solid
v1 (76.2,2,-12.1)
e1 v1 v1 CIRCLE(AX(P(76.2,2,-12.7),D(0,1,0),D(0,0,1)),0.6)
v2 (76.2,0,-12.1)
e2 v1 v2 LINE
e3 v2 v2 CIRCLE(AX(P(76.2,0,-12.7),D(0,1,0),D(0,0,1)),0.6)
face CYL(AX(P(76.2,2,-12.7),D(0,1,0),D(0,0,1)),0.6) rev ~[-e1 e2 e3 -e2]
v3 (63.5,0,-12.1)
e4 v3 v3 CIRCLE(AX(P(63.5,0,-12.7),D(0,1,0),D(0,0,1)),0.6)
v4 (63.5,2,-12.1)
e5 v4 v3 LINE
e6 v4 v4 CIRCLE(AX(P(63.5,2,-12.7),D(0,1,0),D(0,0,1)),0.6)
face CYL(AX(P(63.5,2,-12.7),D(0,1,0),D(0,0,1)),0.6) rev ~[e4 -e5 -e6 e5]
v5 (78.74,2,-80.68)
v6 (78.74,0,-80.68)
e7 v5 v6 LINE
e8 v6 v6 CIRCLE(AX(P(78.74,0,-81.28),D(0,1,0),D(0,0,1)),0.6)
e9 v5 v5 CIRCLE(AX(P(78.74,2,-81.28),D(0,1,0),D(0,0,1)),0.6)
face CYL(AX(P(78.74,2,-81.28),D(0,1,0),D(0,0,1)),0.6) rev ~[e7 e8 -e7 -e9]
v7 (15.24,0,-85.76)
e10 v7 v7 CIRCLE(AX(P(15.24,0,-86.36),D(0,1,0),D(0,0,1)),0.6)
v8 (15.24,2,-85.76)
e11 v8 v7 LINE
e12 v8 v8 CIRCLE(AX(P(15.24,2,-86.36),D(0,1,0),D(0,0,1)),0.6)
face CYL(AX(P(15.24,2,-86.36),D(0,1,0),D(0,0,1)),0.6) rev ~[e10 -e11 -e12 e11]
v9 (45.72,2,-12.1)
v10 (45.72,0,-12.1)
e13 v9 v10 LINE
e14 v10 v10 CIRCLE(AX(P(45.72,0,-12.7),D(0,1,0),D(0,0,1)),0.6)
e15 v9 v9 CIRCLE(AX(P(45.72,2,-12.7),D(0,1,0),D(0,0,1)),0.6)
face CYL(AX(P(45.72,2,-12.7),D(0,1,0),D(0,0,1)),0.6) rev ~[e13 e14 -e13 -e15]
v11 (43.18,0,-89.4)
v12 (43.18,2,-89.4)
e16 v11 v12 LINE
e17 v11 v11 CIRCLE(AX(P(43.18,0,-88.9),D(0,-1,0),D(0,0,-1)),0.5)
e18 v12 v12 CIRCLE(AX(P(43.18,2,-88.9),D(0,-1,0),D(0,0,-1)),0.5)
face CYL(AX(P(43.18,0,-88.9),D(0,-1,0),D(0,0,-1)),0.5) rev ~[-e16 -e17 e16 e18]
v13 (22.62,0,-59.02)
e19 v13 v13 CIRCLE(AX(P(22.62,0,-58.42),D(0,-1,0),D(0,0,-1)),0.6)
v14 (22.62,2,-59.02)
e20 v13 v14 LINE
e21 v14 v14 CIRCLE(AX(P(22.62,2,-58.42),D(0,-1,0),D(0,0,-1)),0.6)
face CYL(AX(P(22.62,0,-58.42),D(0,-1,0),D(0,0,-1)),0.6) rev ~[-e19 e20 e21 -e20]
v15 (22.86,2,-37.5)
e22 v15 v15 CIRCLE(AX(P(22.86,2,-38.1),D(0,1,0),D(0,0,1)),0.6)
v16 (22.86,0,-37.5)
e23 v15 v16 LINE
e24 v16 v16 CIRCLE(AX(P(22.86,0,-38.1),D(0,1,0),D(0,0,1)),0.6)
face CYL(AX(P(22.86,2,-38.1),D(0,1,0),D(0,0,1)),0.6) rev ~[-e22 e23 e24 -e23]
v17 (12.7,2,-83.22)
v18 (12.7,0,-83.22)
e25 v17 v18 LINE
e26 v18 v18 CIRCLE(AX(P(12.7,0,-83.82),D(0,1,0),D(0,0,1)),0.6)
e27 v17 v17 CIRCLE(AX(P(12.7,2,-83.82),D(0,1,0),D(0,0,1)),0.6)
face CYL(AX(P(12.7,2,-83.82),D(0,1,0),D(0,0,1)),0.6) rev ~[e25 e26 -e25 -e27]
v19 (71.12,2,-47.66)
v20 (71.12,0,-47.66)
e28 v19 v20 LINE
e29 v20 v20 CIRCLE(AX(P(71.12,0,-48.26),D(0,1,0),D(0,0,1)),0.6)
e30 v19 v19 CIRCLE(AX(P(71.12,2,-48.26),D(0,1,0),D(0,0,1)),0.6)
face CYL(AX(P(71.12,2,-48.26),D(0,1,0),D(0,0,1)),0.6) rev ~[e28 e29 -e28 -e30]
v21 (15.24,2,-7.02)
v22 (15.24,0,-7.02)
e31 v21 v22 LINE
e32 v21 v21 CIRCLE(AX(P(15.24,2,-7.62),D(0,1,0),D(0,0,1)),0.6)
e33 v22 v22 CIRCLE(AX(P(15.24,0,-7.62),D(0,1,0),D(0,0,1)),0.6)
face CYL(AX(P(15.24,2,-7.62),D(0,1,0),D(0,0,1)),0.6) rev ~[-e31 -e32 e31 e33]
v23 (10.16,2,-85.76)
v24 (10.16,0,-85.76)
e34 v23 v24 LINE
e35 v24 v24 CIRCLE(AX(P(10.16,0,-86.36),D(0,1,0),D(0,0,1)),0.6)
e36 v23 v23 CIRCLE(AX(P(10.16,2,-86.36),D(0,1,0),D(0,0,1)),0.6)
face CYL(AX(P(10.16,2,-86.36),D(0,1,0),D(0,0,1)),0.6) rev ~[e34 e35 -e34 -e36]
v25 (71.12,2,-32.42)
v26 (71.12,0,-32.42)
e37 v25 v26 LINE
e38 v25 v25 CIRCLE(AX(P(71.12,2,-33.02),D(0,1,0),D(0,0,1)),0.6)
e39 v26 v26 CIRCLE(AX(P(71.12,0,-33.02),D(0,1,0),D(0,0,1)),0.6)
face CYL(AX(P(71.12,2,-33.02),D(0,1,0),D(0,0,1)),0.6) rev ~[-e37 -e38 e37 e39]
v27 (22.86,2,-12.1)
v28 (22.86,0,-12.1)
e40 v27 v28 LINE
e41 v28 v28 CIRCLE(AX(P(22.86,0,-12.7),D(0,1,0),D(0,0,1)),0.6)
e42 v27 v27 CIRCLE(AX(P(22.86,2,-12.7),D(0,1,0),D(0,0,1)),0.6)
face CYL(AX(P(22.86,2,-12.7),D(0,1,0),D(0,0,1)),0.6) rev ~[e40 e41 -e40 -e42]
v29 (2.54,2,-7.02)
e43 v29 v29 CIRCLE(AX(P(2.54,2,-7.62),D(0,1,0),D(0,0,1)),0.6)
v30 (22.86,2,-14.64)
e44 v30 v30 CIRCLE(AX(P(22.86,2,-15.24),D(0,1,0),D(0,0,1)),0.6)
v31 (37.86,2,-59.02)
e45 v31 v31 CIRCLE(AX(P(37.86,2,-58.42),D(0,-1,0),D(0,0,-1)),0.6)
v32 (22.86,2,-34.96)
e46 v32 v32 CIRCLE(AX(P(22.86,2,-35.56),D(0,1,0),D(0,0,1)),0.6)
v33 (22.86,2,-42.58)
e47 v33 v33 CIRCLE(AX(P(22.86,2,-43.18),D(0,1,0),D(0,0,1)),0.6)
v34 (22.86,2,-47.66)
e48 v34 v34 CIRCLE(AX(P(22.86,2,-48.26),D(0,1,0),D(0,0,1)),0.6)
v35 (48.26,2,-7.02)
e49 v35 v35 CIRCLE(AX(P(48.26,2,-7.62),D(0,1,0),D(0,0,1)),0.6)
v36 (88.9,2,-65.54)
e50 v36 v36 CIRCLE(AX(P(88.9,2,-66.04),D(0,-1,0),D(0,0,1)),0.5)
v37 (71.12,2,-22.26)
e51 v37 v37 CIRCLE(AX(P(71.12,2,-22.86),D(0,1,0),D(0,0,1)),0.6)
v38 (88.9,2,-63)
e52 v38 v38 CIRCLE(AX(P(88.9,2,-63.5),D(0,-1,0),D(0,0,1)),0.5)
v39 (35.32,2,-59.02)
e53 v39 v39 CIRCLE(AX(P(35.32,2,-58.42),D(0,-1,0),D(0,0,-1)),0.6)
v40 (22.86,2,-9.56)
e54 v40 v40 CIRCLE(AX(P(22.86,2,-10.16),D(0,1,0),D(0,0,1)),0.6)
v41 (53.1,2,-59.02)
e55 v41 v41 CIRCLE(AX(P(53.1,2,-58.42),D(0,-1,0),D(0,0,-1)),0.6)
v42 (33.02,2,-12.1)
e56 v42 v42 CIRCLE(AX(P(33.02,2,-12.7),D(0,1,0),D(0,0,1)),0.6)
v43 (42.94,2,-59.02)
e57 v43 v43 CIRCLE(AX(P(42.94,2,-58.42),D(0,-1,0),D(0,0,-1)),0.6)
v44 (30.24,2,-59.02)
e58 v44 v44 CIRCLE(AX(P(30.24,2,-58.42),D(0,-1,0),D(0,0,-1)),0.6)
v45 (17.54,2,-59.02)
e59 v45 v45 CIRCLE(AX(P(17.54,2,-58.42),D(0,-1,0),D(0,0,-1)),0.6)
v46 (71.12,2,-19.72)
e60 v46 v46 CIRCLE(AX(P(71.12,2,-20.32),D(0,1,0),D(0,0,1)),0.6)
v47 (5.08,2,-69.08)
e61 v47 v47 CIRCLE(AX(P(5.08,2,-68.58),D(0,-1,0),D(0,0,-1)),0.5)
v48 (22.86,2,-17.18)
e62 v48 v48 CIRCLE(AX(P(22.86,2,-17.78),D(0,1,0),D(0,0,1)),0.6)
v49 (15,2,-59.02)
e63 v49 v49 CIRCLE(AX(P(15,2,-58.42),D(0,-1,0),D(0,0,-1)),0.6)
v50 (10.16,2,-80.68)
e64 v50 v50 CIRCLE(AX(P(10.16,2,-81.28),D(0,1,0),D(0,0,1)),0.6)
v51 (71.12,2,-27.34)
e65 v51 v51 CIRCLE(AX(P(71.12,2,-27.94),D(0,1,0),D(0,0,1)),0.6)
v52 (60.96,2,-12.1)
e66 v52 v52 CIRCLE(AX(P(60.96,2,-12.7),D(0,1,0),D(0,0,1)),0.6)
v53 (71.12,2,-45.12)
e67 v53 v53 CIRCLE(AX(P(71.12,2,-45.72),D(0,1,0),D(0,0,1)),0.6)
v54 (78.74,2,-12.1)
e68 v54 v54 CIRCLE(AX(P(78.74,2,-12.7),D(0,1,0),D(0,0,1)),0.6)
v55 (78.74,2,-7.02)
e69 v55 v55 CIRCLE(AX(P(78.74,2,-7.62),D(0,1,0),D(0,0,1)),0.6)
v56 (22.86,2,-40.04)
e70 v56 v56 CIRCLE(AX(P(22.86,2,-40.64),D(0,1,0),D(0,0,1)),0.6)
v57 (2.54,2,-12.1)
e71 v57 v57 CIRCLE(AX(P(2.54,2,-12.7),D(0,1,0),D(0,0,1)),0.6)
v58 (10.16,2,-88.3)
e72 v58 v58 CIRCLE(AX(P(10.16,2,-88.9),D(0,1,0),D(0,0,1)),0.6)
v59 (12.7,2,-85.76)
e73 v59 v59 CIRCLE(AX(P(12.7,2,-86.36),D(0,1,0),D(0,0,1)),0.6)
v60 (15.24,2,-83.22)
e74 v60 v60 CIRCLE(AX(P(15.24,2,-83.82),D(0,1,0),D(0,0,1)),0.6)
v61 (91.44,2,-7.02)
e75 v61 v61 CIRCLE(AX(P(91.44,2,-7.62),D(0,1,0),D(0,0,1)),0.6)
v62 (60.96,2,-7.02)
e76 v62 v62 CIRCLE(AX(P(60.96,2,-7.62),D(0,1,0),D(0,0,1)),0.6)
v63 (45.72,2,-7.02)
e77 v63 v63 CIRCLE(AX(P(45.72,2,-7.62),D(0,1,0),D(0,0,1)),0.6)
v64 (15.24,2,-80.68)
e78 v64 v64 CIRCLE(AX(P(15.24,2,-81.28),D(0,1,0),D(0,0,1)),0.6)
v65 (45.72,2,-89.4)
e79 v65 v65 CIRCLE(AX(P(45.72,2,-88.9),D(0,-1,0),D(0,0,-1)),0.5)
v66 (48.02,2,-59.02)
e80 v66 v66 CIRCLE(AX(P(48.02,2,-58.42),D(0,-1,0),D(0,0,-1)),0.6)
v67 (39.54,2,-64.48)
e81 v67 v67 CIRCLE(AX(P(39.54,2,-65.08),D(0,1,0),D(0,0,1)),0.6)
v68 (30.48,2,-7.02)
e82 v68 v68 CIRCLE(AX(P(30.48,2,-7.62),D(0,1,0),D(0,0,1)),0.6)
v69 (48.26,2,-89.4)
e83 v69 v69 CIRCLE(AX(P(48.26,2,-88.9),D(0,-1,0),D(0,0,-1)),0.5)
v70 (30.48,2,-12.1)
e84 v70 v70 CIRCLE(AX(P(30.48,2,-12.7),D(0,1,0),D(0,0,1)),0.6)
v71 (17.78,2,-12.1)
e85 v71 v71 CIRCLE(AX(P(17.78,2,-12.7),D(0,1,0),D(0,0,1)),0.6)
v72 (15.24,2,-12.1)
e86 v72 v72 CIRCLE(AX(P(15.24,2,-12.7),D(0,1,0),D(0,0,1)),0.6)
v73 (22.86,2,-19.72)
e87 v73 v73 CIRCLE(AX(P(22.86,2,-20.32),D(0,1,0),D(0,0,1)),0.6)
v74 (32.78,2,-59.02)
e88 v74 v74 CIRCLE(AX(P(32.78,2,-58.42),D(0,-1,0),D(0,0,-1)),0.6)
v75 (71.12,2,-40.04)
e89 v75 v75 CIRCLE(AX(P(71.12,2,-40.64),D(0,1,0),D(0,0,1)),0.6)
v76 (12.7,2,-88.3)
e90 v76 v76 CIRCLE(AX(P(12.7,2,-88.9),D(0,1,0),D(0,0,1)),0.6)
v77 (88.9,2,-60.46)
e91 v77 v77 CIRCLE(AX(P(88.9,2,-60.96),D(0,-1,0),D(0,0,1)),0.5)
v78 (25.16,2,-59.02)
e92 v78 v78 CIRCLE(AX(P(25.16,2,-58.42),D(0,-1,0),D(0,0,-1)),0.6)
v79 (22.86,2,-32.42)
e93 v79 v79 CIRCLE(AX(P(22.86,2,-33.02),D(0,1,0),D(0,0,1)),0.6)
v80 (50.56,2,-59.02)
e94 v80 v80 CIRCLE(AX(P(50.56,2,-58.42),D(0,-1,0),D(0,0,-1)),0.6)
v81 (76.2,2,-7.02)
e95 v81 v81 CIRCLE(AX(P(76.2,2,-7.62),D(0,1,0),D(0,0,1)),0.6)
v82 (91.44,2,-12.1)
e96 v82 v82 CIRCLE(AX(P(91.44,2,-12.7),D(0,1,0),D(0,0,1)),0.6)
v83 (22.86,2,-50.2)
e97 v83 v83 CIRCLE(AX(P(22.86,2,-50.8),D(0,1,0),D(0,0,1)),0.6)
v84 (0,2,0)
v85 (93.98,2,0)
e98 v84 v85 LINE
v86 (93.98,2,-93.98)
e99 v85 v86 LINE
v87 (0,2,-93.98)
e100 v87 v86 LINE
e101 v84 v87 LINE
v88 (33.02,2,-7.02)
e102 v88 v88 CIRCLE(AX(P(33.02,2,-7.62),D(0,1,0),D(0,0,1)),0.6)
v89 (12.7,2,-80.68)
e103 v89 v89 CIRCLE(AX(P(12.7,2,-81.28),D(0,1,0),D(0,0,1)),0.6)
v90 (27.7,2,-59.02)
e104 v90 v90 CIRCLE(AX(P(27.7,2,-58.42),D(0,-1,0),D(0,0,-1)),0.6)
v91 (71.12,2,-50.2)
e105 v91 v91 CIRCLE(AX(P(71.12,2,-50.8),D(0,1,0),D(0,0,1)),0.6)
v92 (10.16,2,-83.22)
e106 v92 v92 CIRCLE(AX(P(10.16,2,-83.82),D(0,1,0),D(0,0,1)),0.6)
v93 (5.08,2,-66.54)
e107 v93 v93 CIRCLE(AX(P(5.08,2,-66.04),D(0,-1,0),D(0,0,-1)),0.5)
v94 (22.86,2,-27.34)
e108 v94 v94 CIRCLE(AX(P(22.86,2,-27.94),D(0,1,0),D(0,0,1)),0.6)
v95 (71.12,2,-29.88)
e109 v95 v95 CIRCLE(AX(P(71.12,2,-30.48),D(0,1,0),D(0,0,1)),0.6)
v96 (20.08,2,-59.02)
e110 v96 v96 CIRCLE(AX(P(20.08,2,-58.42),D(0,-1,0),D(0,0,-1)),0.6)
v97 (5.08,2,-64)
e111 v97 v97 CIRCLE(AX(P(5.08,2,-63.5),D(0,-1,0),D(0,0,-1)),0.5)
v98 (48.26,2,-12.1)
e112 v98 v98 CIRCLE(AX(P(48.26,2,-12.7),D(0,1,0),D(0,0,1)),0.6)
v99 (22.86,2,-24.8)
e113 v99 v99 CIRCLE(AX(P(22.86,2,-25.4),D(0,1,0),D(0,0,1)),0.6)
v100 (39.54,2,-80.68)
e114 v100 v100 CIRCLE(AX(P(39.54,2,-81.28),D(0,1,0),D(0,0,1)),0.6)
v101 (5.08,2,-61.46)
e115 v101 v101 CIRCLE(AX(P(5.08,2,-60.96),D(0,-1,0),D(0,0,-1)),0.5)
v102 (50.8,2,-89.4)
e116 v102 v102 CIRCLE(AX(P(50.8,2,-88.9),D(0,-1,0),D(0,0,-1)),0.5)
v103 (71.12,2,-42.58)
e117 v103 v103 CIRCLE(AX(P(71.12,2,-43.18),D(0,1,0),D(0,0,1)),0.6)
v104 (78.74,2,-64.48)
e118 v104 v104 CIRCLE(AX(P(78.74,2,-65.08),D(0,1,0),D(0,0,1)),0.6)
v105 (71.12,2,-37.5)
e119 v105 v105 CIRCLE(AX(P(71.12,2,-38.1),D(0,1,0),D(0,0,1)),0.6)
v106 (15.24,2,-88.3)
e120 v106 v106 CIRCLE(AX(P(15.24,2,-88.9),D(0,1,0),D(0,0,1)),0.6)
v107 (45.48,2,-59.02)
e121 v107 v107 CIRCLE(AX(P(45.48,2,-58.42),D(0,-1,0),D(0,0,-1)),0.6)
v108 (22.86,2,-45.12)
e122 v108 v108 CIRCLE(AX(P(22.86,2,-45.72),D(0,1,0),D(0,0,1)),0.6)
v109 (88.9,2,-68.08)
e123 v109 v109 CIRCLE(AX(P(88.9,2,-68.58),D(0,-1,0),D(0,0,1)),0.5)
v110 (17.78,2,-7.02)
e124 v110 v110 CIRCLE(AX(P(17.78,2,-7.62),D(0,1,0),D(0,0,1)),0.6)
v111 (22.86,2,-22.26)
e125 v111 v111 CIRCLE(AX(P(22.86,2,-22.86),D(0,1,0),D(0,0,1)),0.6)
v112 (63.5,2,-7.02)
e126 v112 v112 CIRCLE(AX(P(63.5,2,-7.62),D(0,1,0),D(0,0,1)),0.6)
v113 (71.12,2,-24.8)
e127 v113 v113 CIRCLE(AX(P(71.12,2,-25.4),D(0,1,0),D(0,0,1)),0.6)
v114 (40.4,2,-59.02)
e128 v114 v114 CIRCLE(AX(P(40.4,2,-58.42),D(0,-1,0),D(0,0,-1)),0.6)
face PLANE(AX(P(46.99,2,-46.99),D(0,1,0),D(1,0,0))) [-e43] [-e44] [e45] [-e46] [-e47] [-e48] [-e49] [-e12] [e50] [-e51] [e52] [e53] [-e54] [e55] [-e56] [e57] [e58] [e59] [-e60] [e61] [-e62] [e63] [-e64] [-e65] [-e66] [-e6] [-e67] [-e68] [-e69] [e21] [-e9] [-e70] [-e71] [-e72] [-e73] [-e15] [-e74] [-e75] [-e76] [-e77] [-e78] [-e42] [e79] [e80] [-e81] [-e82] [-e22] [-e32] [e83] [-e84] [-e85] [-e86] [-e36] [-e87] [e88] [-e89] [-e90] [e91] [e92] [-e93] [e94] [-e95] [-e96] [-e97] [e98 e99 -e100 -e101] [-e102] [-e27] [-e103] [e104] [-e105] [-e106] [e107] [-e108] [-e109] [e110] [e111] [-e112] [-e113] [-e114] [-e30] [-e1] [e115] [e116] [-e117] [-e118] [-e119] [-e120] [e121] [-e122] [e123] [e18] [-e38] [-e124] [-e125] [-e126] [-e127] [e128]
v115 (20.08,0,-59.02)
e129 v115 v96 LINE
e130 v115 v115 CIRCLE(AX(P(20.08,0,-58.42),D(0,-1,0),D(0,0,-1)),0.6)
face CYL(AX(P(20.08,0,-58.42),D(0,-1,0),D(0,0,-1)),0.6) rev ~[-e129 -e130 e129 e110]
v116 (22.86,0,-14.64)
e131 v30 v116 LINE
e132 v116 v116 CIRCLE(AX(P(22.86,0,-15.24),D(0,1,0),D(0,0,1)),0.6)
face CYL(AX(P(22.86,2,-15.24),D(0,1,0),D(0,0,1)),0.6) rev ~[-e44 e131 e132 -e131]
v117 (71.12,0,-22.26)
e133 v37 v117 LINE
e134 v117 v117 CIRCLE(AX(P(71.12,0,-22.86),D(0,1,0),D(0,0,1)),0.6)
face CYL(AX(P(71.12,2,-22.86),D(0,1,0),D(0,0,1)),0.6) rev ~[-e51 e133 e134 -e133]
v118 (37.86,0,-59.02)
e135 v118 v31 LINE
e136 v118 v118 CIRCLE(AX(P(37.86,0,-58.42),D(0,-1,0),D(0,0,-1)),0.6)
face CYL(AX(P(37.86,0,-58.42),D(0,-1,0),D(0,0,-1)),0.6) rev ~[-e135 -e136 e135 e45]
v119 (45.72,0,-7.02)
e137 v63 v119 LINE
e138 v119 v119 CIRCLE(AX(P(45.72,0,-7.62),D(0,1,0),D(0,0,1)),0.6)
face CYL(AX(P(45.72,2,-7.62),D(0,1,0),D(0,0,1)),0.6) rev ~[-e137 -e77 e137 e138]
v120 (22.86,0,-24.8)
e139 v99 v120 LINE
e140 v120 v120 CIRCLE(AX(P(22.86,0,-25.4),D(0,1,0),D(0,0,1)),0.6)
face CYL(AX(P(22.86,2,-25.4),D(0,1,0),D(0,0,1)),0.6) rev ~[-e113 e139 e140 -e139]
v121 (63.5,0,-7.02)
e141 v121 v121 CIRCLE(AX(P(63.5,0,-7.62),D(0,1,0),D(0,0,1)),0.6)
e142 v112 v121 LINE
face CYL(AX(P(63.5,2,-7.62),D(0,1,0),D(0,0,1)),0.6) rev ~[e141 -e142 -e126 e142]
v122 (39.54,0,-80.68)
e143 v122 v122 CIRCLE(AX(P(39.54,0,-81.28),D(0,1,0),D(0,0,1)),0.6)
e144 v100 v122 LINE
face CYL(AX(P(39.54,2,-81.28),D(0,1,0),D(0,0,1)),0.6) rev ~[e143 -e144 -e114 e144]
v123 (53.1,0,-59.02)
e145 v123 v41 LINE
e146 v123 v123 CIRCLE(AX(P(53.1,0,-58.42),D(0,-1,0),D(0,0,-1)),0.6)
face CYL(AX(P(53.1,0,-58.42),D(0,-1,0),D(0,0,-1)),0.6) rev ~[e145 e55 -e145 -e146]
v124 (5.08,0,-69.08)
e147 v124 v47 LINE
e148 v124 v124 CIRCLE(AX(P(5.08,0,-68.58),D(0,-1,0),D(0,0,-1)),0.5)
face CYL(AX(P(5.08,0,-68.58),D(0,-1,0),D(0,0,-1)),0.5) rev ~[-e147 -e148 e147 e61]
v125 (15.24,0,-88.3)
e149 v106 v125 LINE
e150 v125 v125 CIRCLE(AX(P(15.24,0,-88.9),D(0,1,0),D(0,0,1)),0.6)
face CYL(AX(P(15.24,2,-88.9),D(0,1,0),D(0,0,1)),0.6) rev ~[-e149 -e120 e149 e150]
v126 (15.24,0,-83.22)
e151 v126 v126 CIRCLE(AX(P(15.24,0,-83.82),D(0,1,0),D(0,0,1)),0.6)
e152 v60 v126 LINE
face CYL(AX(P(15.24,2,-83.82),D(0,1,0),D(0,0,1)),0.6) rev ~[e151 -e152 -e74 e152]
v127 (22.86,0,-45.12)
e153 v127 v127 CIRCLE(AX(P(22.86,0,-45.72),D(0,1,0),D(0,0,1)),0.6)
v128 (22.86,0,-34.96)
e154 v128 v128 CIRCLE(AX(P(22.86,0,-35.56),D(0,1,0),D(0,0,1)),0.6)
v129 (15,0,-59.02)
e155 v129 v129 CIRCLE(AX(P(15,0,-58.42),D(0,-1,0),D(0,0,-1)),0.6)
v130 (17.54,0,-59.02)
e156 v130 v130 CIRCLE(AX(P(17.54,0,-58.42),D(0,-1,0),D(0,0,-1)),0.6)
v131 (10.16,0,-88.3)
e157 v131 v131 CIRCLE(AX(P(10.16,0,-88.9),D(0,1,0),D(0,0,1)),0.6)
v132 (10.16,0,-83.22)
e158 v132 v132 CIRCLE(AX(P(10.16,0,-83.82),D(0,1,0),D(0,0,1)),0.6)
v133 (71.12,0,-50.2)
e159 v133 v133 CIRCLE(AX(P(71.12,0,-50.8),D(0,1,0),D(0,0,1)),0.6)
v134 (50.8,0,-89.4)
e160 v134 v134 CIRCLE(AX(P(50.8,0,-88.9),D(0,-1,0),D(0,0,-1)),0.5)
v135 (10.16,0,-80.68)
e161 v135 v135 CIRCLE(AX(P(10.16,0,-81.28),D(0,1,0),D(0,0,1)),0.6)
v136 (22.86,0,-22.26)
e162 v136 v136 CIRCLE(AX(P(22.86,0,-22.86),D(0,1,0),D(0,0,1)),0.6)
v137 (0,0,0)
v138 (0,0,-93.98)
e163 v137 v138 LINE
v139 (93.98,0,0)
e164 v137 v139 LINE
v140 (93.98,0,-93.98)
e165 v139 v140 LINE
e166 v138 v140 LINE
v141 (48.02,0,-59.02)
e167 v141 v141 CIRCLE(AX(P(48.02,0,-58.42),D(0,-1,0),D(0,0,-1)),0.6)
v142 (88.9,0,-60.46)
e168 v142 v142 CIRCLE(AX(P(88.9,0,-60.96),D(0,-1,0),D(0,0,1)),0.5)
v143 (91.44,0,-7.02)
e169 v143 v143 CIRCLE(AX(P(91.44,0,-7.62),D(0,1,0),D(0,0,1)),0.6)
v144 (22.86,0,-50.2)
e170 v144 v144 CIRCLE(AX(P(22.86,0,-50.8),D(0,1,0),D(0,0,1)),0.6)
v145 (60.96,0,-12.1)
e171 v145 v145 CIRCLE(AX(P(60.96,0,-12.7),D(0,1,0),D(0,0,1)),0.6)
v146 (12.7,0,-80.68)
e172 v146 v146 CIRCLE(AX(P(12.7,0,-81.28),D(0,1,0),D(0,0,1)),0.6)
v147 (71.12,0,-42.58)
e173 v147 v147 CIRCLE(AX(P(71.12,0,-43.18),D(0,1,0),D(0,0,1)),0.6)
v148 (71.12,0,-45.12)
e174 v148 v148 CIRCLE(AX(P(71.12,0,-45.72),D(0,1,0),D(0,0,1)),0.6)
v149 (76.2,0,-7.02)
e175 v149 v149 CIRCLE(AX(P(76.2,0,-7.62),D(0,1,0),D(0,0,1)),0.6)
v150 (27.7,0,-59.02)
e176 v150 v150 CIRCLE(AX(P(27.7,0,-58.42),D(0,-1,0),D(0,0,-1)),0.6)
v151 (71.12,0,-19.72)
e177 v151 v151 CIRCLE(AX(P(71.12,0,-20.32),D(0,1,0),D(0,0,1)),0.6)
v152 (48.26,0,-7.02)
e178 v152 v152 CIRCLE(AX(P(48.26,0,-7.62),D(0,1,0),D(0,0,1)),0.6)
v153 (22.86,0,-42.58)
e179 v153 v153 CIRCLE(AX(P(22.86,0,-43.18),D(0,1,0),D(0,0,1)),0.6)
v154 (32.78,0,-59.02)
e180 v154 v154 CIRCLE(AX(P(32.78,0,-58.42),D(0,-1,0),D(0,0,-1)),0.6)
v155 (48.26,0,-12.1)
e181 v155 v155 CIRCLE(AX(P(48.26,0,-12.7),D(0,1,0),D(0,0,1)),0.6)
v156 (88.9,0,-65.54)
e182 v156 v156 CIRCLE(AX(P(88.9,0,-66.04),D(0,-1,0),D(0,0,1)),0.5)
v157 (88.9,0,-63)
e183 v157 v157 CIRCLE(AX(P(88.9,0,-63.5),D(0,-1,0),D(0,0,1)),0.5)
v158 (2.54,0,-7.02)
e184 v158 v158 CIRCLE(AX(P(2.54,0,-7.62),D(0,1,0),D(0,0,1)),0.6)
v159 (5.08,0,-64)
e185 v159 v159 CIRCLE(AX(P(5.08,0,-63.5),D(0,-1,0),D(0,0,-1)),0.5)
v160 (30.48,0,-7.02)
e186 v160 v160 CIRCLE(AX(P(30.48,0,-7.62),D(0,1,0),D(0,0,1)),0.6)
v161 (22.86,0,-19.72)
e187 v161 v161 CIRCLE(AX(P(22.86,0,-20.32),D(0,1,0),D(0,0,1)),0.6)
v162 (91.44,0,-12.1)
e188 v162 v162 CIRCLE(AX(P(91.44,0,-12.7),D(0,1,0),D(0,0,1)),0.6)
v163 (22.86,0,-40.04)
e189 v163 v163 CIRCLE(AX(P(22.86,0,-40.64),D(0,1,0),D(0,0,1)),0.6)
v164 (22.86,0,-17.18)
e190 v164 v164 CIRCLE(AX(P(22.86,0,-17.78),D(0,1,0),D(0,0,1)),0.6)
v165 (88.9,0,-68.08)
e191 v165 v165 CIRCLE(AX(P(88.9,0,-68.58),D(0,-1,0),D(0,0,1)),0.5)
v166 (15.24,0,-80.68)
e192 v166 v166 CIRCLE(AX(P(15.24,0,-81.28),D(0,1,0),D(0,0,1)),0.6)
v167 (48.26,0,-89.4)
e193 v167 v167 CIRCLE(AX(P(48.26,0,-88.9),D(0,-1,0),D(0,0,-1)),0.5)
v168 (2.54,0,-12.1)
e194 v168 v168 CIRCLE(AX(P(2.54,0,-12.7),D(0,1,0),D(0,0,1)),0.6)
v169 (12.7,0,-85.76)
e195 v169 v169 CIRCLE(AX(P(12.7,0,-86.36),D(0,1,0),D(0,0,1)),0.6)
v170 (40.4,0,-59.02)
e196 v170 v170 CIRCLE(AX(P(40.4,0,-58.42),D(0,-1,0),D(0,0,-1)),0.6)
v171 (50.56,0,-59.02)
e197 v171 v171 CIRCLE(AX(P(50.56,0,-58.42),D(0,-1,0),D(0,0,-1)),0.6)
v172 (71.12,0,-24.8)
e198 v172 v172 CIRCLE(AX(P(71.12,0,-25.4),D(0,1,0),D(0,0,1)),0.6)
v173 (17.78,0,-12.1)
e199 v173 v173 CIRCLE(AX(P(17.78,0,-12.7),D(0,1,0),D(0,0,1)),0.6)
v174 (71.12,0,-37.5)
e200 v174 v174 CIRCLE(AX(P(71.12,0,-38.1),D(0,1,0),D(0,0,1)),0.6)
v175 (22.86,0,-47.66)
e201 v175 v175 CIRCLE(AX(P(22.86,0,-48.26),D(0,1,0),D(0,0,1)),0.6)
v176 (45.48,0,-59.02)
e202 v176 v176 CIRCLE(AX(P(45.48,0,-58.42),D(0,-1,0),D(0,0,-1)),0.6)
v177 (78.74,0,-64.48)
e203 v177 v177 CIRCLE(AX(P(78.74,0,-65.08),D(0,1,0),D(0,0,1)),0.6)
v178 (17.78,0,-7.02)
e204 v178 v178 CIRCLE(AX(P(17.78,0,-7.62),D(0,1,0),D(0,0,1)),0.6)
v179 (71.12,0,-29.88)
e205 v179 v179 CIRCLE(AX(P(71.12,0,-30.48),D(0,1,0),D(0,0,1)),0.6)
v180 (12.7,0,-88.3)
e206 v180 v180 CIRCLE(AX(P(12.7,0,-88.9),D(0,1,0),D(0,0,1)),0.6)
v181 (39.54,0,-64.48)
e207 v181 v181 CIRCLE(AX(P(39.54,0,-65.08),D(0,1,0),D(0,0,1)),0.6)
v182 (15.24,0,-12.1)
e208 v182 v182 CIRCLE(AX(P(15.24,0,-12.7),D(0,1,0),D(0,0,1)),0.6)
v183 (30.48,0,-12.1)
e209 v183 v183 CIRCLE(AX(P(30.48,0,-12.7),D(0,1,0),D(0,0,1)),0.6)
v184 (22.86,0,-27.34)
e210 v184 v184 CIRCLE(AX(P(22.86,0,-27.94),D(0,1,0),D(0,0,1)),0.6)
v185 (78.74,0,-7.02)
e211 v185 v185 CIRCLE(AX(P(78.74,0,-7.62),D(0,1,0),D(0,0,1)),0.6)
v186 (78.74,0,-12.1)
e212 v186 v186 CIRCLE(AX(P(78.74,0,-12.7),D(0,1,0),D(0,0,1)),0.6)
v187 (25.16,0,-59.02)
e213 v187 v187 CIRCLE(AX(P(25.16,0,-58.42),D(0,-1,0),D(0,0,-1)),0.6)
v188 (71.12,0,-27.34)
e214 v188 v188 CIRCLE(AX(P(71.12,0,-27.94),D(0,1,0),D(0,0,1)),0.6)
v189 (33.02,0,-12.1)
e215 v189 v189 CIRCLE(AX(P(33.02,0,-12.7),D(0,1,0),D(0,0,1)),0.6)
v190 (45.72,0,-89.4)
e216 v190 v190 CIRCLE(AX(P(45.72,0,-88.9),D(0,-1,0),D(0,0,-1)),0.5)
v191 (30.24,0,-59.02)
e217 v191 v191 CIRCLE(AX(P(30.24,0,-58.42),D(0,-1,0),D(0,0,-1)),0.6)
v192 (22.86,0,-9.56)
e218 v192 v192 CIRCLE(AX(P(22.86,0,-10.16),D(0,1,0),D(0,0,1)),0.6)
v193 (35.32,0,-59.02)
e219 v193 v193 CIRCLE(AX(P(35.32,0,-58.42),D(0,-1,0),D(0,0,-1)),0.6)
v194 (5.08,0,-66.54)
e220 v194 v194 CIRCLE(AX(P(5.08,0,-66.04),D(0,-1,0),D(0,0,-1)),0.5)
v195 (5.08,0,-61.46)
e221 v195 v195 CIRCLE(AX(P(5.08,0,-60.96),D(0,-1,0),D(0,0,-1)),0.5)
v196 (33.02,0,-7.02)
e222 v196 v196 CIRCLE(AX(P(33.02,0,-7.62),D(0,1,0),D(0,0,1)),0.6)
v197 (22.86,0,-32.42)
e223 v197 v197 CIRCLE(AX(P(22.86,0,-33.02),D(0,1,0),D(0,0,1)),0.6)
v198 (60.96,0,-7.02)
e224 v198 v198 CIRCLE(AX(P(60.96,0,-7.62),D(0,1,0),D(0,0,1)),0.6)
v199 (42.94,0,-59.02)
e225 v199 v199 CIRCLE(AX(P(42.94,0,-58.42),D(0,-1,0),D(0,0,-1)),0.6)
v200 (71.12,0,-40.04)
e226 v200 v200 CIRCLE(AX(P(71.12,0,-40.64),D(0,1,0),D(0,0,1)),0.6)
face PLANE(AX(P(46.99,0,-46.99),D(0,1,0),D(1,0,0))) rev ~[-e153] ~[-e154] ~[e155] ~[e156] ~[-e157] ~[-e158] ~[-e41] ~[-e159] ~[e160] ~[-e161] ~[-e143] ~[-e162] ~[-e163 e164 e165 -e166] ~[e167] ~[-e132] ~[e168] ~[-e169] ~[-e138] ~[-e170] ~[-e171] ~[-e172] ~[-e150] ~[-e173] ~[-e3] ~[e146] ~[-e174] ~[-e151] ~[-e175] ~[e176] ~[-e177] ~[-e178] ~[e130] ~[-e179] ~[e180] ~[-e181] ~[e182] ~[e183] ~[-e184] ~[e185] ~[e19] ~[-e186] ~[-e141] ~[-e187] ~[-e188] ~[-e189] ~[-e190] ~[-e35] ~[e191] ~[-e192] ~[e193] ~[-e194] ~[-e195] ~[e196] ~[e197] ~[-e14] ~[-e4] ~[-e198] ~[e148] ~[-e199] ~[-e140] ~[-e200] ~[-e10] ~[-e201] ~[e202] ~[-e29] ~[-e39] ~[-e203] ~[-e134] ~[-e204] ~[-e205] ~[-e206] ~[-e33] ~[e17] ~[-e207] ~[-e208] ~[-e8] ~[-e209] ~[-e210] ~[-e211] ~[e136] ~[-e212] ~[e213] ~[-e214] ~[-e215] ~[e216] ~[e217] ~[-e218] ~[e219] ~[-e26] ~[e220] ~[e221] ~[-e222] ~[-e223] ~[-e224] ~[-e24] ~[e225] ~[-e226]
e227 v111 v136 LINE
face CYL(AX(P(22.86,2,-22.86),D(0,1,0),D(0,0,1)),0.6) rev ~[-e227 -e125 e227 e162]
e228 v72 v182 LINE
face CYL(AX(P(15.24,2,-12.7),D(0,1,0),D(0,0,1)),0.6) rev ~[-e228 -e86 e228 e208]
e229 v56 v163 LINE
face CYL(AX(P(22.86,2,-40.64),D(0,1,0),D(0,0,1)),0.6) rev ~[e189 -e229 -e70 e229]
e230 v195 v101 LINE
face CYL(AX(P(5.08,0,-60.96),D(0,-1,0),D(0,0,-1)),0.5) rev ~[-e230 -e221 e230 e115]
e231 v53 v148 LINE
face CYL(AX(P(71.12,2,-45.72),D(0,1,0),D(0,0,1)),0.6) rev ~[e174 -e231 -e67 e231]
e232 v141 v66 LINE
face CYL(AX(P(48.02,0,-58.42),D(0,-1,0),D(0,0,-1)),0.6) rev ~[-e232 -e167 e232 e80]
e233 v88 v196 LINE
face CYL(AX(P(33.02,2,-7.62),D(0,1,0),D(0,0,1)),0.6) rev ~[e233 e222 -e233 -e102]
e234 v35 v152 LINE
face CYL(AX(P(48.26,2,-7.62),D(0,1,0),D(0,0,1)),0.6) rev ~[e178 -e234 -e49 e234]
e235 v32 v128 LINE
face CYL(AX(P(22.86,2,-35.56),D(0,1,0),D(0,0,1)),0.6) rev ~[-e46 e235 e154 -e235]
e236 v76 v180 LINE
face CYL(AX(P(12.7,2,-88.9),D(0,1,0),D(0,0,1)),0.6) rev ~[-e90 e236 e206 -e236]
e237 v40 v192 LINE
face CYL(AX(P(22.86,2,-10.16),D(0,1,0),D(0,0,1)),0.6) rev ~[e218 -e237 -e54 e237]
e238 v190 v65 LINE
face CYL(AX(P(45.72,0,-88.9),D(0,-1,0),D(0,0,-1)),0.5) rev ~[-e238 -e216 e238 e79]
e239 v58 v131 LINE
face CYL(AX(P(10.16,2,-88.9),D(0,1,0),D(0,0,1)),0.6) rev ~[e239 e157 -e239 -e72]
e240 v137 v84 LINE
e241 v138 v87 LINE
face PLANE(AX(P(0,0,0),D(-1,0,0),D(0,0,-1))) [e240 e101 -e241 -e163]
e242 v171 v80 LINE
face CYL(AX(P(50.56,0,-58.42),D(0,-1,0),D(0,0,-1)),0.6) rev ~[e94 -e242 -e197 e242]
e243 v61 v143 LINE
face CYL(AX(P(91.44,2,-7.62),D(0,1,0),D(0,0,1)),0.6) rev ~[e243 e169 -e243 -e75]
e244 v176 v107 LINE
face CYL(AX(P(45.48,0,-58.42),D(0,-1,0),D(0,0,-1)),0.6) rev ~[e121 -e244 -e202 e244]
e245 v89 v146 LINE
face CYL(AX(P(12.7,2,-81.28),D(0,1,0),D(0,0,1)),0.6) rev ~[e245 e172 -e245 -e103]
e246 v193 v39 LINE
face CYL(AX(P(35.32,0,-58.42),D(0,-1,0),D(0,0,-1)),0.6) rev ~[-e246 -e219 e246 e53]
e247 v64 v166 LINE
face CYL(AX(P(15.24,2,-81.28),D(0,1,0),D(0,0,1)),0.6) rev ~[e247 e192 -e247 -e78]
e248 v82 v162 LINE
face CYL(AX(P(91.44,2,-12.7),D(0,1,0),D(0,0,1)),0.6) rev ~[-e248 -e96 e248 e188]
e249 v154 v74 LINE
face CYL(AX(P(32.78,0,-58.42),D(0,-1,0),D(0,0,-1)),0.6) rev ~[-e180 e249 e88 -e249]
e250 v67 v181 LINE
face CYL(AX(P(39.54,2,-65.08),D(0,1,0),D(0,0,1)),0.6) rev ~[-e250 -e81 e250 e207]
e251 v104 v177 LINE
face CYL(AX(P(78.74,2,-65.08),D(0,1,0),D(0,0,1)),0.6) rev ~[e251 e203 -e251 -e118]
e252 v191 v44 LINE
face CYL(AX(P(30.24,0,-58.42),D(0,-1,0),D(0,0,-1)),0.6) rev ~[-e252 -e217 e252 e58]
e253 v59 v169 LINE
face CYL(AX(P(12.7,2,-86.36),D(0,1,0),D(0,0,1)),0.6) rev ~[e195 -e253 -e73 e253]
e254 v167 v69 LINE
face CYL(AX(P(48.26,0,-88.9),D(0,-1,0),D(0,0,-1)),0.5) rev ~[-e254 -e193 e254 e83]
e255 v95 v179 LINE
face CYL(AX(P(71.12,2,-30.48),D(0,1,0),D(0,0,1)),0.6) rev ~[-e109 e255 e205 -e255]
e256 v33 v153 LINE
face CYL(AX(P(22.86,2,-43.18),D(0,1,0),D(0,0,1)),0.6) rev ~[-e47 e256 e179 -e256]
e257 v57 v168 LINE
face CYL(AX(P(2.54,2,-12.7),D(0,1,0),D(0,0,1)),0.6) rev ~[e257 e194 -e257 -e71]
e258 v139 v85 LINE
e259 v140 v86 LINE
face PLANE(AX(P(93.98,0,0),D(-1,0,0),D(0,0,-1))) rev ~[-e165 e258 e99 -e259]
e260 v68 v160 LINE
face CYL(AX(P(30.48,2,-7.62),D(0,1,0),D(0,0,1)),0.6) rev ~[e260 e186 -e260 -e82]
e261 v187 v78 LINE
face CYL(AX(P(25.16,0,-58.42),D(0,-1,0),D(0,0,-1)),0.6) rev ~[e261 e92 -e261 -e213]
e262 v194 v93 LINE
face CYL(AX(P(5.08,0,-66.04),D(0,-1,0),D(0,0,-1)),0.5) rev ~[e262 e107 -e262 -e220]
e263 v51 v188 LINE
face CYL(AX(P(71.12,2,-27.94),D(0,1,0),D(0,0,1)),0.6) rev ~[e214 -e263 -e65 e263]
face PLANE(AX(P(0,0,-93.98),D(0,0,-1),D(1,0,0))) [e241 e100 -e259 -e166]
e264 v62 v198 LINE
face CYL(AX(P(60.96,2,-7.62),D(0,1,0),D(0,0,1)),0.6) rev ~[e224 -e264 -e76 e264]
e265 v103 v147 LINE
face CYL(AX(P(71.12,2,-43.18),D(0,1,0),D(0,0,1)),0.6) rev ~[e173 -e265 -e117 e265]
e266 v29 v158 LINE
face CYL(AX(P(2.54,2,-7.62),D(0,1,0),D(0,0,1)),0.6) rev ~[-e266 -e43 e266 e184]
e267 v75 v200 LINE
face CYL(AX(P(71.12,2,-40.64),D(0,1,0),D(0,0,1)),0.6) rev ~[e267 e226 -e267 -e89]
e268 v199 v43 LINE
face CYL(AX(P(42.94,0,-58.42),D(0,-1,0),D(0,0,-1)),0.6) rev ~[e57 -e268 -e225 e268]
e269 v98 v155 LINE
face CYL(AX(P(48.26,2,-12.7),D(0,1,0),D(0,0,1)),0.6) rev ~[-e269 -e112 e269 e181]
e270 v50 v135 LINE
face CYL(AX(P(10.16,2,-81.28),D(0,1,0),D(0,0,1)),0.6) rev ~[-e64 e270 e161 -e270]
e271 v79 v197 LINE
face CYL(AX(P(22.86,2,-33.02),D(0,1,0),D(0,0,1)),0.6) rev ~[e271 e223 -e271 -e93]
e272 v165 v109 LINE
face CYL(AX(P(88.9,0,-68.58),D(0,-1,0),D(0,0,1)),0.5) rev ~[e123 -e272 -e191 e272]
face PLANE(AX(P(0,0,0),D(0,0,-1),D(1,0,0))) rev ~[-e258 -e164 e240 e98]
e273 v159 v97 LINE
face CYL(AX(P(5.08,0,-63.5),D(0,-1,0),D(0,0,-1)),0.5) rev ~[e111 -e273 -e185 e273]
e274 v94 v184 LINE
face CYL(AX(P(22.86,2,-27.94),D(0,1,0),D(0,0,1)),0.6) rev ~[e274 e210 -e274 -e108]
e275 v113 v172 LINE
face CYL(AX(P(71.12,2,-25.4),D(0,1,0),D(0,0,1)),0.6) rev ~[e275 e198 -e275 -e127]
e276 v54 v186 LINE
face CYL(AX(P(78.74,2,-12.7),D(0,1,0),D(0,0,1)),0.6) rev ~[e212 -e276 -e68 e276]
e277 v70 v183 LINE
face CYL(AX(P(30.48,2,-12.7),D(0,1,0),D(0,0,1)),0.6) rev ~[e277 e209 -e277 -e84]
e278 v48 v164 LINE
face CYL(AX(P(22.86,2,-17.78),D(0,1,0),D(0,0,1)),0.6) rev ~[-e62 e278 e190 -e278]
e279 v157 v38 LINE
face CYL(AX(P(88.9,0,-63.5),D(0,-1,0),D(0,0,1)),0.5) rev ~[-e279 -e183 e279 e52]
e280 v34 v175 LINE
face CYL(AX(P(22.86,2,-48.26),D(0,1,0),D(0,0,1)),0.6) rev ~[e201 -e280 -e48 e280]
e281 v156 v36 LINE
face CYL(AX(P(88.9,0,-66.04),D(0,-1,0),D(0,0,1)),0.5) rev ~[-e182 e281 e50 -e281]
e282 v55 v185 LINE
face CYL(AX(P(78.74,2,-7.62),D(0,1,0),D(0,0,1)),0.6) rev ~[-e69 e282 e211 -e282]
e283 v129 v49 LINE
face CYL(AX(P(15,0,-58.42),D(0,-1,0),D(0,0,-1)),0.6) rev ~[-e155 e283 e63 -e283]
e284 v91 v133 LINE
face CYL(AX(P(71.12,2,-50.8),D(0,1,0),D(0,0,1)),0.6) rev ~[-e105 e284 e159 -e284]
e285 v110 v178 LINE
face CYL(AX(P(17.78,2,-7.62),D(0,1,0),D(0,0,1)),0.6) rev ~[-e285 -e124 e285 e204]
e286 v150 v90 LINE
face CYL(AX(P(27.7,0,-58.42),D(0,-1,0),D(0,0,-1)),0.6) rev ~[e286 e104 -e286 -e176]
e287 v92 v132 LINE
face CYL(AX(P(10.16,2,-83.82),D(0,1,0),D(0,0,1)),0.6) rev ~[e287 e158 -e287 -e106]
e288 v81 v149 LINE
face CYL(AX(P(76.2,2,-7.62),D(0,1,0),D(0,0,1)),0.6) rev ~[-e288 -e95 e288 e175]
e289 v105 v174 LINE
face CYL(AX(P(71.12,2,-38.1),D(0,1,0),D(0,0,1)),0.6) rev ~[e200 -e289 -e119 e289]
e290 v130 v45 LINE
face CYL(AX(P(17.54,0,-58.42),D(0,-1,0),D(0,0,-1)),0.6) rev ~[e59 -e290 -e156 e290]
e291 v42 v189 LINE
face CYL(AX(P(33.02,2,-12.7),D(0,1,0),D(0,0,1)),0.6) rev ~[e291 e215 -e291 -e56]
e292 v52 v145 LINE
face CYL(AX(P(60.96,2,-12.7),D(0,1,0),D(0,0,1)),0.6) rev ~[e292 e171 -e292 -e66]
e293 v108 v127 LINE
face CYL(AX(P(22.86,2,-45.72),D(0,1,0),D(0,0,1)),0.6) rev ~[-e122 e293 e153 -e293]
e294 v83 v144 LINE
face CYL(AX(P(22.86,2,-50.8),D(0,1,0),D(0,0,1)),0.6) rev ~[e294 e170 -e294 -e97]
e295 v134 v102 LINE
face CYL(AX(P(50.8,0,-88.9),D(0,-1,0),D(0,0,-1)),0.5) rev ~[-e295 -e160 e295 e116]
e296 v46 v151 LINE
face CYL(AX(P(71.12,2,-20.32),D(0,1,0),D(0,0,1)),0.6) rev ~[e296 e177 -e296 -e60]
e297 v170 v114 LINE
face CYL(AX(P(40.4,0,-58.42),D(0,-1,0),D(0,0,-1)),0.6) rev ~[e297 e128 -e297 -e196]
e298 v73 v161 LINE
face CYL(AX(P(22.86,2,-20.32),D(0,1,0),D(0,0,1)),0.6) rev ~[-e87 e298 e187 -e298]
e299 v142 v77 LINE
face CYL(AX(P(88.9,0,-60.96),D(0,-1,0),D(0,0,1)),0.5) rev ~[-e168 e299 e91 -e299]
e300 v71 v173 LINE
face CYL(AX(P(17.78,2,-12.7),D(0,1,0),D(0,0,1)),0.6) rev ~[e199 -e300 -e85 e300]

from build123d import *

# Parameters (mm, degrees)
SKETCH1_W           = 93.98
SKETCH1_H           = 93.98
BOSS_EXTRUDE1_DEPTH = 2
SKETCH2_R           = 0.6
CUT_EXTRUDE1_DEPTH  = 133.922837767
SKETCH3_R           = 0.6
CUT_EXTRUDE2_DEPTH  = 133.922837767
SKETCH4_R           = 0.5
CUT_EXTRUDE3_DEPTH  = 133.922837767
SKETCH5_R           = 0.6
CUT_EXTRUDE4_DEPTH  = 133.922837767
SKETCH6_R           = 0.6
CUT_EXTRUDE5_DEPTH  = 10
SKETCH7_R           = 0.6
CUT_EXTRUDE6_DEPTH  = 133.922837767


with BuildPart() as part:
    # Sketch1 → Boss-Extrude1 (new body)
    with BuildSketch(Plane(origin=(0, 0, 0), x_dir=(1, 0, 0), z_dir=(0, 1, 0))):
        with Locations((46.99, 46.99)):
            Rectangle(SKETCH1_W, SKETCH1_H)
    extrude(amount=BOSS_EXTRUDE1_DEPTH)

    # Sketch2 → Cut-Extrude1 (cut, through all)
    with BuildSketch(Plane(origin=(0, 2, 0), x_dir=(1, 0, 0), z_dir=(0, 1, 0))):
        with Locations(Location((22.86, 50.8, 0), (0, 0, 270))):
            Circle(SKETCH2_R)
        with Locations(Location((22.86, 48.26, 0), (0, 0, 270))):
            Circle(SKETCH2_R)
        with Locations(Location((22.86, 45.72, 0), (0, 0, 270))):
            Circle(SKETCH2_R)
        with Locations(Location((22.86, 43.18, 0), (0, 0, 270))):
            Circle(SKETCH2_R)
        with Locations(Location((22.86, 40.64, 0), (0, 0, 270))):
            Circle(SKETCH2_R)
        with Locations(Location((22.86, 38.1, 0), (0, 0, 270))):
            Circle(SKETCH2_R)
        with Locations(Location((22.86, 35.56, 0), (0, 0, 270))):
            Circle(SKETCH2_R)
        with Locations(Location((22.86, 33.02, 0), (0, 0, 270))):
            Circle(SKETCH2_R)
        with Locations(Location((22.86, 27.94, 0), (0, 0, 270))):
            Circle(SKETCH2_R)
        with Locations(Location((22.86, 25.4, 0), (0, 0, 270))):
            Circle(SKETCH2_R)
        with Locations(Location((22.86, 22.86, 0), (0, 0, 270))):
            Circle(SKETCH2_R)
        with Locations(Location((22.86, 20.32, 0), (0, 0, 270))):
            Circle(SKETCH2_R)
        with Locations(Location((22.86, 17.78, 0), (0, 0, 270))):
            Circle(SKETCH2_R)
        with Locations(Location((22.86, 15.24, 0), (0, 0, 270))):
            Circle(SKETCH2_R)
        with Locations(Location((22.86, 12.7, 0), (0, 0, 270))):
            Circle(SKETCH2_R)
        with Locations(Location((22.86, 10.16, 0), (0, 0, 270))):
            Circle(SKETCH2_R)
        with Locations(Location((71.12, 50.8, 0), (0, 0, 270))):
            Circle(SKETCH2_R)
        with Locations(Location((71.12, 48.26, 0), (0, 0, 270))):
            Circle(SKETCH2_R)
        with Locations(Location((71.12, 45.72, 0), (0, 0, 270))):
            Circle(SKETCH2_R)
        with Locations(Location((71.12, 43.18, 0), (0, 0, 270))):
            Circle(SKETCH2_R)
        with Locations(Location((71.12, 40.64, 0), (0, 0, 270))):
            Circle(SKETCH2_R)
        with Locations(Location((71.12, 38.1, 0), (0, 0, 270))):
            Circle(SKETCH2_R)
        with Locations(Location((71.12, 33.02, 0), (0, 0, 270))):
            Circle(SKETCH2_R)
        with Locations(Location((71.12, 30.48, 0), (0, 0, 270))):
            Circle(SKETCH2_R)
        with Locations(Location((71.12, 27.94, 0), (0, 0, 270))):
            Circle(SKETCH2_R)
        with Locations(Location((71.12, 25.4, 0), (0, 0, 270))):
            Circle(SKETCH2_R)
        with Locations(Location((71.12, 22.86, 0), (0, 0, 270))):
            Circle(SKETCH2_R)
        with Locations(Location((71.12, 20.32, 0), (0, 0, 270))):
            Circle(SKETCH2_R)
    extrude(amount=-CUT_EXTRUDE1_DEPTH, mode=Mode.SUBTRACT)

    # Sketch3 → Cut-Extrude2 (cut, through all)
    with BuildSketch(Plane.XZ):
        with Locations(Location((15, -58.42, 0), (0, 0, 270))):
            Circle(SKETCH3_R)
        with Locations(Location((17.54, -58.42, 0), (0, 0, 270))):
            Circle(SKETCH3_R)
        with Locations(Location((20.08, -58.42, 0), (0, 0, 270))):
            Circle(SKETCH3_R)
        with Locations(Location((22.62, -58.42, 0), (0, 0, 270))):
            Circle(SKETCH3_R)
        with Locations(Location((25.16, -58.42, 0), (0, 0, 270))):
            Circle(SKETCH3_R)
        with Locations(Location((27.7, -58.42, 0), (0, 0, 270))):
            Circle(SKETCH3_R)
        with Locations(Location((30.24, -58.42, 0), (0, 0, 270))):
            Circle(SKETCH3_R)
        with Locations(Location((32.78, -58.42, 0), (0, 0, 270))):
            Circle(SKETCH3_R)
        with Locations(Location((35.32, -58.42, 0), (0, 0, 270))):
            Circle(SKETCH3_R)
        with Locations(Location((37.86, -58.42, 0), (0, 0, 270))):
            Circle(SKETCH3_R)
        with Locations(Location((40.4, -58.42, 0), (0, 0, 270))):
            Circle(SKETCH3_R)
        with Locations(Location((42.94, -58.42, 0), (0, 0, 270))):
            Circle(SKETCH3_R)
        with Locations(Location((45.48, -58.42, 0), (0, 0, 270))):
            Circle(SKETCH3_R)
        with Locations(Location((48.02, -58.42, 0), (0, 0, 270))):
            Circle(SKETCH3_R)
        with Locations(Location((50.56, -58.42, 0), (0, 0, 270))):
            Circle(SKETCH3_R)
        with Locations(Location((53.1, -58.42, 0), (0, 0, 270))):
            Circle(SKETCH3_R)
    extrude(amount=-CUT_EXTRUDE2_DEPTH, mode=Mode.SUBTRACT)

    # Sketch4 → Cut-Extrude3 (cut, through all)
    with BuildSketch(Plane.XZ):
        with Locations(Location((5.08, -60.96, 0), (0, 0, 270))):
            Circle(SKETCH4_R)
        with Locations(Location((5.08, -63.5, 0), (0, 0, 270))):
            Circle(SKETCH4_R)
        with Locations(Location((5.08, -66.04, 0), (0, 0, 270))):
            Circle(SKETCH4_R)
        with Locations(Location((5.08, -68.58, 0), (0, 0, 270))):
            Circle(SKETCH4_R)
        with Locations(Location((88.9, -68.58, 0), (0, 0, 90))):
            Circle(SKETCH4_R)
        with Locations(Location((88.9, -66.04, 0), (0, 0, 90))):
            Circle(SKETCH4_R)
        with Locations(Location((88.9, -63.5, 0), (0, 0, 90))):
            Circle(SKETCH4_R)
        with Locations(Location((88.9, -60.96, 0), (0, 0, 90))):
            Circle(SKETCH4_R)
        with Locations(Location((43.18, -88.9, 0), (0, 0, 270))):
            Circle(SKETCH4_R)
        with Locations(Location((45.72, -88.9, 0), (0, 0, 270))):
            Circle(SKETCH4_R)
        with Locations(Location((48.26, -88.9, 0), (0, 0, 270))):
            Circle(SKETCH4_R)
        with Locations(Location((50.8, -88.9, 0), (0, 0, 270))):
            Circle(SKETCH4_R)
    extrude(amount=-CUT_EXTRUDE3_DEPTH, mode=Mode.SUBTRACT)

    # Sketch5 → Cut-Extrude4 (cut, through all)
    with BuildSketch(Plane(origin=(0, 2, 0), x_dir=(1, 0, 0), z_dir=(0, 1, 0))):
        with Locations(Location((78.74, 81.28, 0), (0, 0, 270))):
            Circle(SKETCH5_R)
        with Locations(Location((39.54, 81.28, 0), (0, 0, 270))):
            Circle(SKETCH5_R)
        with Locations(Location((39.54, 65.08, 0), (0, 0, 270))):
            Circle(SKETCH5_R)
        with Locations(Location((78.74, 65.08, 0), (0, 0, 270))):
            Circle(SKETCH5_R)
    extrude(amount=-CUT_EXTRUDE4_DEPTH, mode=Mode.SUBTRACT)

    # Sketch6 → Cut-Extrude5 (cut)
    with BuildSketch(Plane(origin=(0, 2, 0), x_dir=(1, 0, 0), z_dir=(0, 1, 0))):
        with Locations(Location((10.16, 88.9, 0), (0, 0, 270))):
            Circle(SKETCH6_R)
        with Locations(Location((12.7, 88.9, 0), (0, 0, 270))):
            Circle(SKETCH6_R)
        with Locations(Location((15.24, 88.9, 0), (0, 0, 270))):
            Circle(SKETCH6_R)
        with Locations(Location((12.7, 86.36, 0), (0, 0, 270))):
            Circle(SKETCH6_R)
        with Locations(Location((15.24, 86.36, 0), (0, 0, 270))):
            Circle(SKETCH6_R)
        with Locations(Location((12.7, 83.82, 0), (0, 0, 270))):
            Circle(SKETCH6_R)
        with Locations(Location((15.24, 83.82, 0), (0, 0, 270))):
            Circle(SKETCH6_R)
        with Locations(Location((12.7, 81.28, 0), (0, 0, 270))):
            Circle(SKETCH6_R)
        with Locations(Location((15.24, 81.28, 0), (0, 0, 270))):
            Circle(SKETCH6_R)
        with Locations(Location((10.16, 86.36, 0), (0, 0, 270))):
            Circle(SKETCH6_R)
        with Locations(Location((10.16, 83.82, 0), (0, 0, 270))):
            Circle(SKETCH6_R)
        with Locations(Location((10.16, 81.28, 0), (0, 0, 270))):
            Circle(SKETCH6_R)
    extrude(amount=-CUT_EXTRUDE5_DEPTH, mode=Mode.SUBTRACT)

    # Sketch7 → Cut-Extrude6 (cut, through all)
    with BuildSketch(Plane(origin=(0, 2, 0), x_dir=(1, 0, 0), z_dir=(0, 1, 0))):
        with Locations(Location((15.24, 12.7, 0), (0, 0, 270))):
            Circle(SKETCH7_R)
        with Locations(Location((15.24, 7.62, 0), (0, 0, 270))):
            Circle(SKETCH7_R)
        with Locations(Location((2.54, 12.7, 0), (0, 0, 270))):
            Circle(SKETCH7_R)
        with Locations(Location((2.54, 7.62, 0), (0, 0, 270))):
            Circle(SKETCH7_R)
        with Locations(Location((30.48, 12.7, 0), (0, 0, 270))):
            Circle(SKETCH7_R)
        with Locations(Location((30.48, 7.62, 0), (0, 0, 270))):
            Circle(SKETCH7_R)
        with Locations(Location((17.78, 12.7, 0), (0, 0, 270))):
            Circle(SKETCH7_R)
        with Locations(Location((17.78, 7.62, 0), (0, 0, 270))):
            Circle(SKETCH7_R)
        with Locations(Location((45.72, 12.7, 0), (0, 0, 270))):
            Circle(SKETCH7_R)
        with Locations(Location((45.72, 7.62, 0), (0, 0, 270))):
            Circle(SKETCH7_R)
        with Locations(Location((33.02, 12.7, 0), (0, 0, 270))):
            Circle(SKETCH7_R)
        with Locations(Location((33.02, 7.62, 0), (0, 0, 270))):
            Circle(SKETCH7_R)
        with Locations(Location((60.96, 12.7, 0), (0, 0, 270))):
            Circle(SKETCH7_R)
        with Locations(Location((60.96, 7.62, 0), (0, 0, 270))):
            Circle(SKETCH7_R)
        with Locations(Location((48.26, 12.7, 0), (0, 0, 270))):
            Circle(SKETCH7_R)
        with Locations(Location((48.26, 7.62, 0), (0, 0, 270))):
            Circle(SKETCH7_R)
        with Locations(Location((76.2, 12.7, 0), (0, 0, 270))):
            Circle(SKETCH7_R)
        with Locations(Location((76.2, 7.62, 0), (0, 0, 270))):
            Circle(SKETCH7_R)
        with Locations(Location((63.5, 12.7, 0), (0, 0, 270))):
            Circle(SKETCH7_R)
        with Locations(Location((63.5, 7.62, 0), (0, 0, 270))):
            Circle(SKETCH7_R)
        with Locations(Location((91.44, 12.7, 0), (0, 0, 270))):
            Circle(SKETCH7_R)
        with Locations(Location((91.44, 7.62, 0), (0, 0, 270))):
            Circle(SKETCH7_R)
        with Locations(Location((78.74, 12.7, 0), (0, 0, 270))):
            Circle(SKETCH7_R)
        with Locations(Location((78.74, 7.62, 0), (0, 0, 270))):
            Circle(SKETCH7_R)
    extrude(amount=-CUT_EXTRUDE6_DEPTH, mode=Mode.SUBTRACT)


solid = part.part
